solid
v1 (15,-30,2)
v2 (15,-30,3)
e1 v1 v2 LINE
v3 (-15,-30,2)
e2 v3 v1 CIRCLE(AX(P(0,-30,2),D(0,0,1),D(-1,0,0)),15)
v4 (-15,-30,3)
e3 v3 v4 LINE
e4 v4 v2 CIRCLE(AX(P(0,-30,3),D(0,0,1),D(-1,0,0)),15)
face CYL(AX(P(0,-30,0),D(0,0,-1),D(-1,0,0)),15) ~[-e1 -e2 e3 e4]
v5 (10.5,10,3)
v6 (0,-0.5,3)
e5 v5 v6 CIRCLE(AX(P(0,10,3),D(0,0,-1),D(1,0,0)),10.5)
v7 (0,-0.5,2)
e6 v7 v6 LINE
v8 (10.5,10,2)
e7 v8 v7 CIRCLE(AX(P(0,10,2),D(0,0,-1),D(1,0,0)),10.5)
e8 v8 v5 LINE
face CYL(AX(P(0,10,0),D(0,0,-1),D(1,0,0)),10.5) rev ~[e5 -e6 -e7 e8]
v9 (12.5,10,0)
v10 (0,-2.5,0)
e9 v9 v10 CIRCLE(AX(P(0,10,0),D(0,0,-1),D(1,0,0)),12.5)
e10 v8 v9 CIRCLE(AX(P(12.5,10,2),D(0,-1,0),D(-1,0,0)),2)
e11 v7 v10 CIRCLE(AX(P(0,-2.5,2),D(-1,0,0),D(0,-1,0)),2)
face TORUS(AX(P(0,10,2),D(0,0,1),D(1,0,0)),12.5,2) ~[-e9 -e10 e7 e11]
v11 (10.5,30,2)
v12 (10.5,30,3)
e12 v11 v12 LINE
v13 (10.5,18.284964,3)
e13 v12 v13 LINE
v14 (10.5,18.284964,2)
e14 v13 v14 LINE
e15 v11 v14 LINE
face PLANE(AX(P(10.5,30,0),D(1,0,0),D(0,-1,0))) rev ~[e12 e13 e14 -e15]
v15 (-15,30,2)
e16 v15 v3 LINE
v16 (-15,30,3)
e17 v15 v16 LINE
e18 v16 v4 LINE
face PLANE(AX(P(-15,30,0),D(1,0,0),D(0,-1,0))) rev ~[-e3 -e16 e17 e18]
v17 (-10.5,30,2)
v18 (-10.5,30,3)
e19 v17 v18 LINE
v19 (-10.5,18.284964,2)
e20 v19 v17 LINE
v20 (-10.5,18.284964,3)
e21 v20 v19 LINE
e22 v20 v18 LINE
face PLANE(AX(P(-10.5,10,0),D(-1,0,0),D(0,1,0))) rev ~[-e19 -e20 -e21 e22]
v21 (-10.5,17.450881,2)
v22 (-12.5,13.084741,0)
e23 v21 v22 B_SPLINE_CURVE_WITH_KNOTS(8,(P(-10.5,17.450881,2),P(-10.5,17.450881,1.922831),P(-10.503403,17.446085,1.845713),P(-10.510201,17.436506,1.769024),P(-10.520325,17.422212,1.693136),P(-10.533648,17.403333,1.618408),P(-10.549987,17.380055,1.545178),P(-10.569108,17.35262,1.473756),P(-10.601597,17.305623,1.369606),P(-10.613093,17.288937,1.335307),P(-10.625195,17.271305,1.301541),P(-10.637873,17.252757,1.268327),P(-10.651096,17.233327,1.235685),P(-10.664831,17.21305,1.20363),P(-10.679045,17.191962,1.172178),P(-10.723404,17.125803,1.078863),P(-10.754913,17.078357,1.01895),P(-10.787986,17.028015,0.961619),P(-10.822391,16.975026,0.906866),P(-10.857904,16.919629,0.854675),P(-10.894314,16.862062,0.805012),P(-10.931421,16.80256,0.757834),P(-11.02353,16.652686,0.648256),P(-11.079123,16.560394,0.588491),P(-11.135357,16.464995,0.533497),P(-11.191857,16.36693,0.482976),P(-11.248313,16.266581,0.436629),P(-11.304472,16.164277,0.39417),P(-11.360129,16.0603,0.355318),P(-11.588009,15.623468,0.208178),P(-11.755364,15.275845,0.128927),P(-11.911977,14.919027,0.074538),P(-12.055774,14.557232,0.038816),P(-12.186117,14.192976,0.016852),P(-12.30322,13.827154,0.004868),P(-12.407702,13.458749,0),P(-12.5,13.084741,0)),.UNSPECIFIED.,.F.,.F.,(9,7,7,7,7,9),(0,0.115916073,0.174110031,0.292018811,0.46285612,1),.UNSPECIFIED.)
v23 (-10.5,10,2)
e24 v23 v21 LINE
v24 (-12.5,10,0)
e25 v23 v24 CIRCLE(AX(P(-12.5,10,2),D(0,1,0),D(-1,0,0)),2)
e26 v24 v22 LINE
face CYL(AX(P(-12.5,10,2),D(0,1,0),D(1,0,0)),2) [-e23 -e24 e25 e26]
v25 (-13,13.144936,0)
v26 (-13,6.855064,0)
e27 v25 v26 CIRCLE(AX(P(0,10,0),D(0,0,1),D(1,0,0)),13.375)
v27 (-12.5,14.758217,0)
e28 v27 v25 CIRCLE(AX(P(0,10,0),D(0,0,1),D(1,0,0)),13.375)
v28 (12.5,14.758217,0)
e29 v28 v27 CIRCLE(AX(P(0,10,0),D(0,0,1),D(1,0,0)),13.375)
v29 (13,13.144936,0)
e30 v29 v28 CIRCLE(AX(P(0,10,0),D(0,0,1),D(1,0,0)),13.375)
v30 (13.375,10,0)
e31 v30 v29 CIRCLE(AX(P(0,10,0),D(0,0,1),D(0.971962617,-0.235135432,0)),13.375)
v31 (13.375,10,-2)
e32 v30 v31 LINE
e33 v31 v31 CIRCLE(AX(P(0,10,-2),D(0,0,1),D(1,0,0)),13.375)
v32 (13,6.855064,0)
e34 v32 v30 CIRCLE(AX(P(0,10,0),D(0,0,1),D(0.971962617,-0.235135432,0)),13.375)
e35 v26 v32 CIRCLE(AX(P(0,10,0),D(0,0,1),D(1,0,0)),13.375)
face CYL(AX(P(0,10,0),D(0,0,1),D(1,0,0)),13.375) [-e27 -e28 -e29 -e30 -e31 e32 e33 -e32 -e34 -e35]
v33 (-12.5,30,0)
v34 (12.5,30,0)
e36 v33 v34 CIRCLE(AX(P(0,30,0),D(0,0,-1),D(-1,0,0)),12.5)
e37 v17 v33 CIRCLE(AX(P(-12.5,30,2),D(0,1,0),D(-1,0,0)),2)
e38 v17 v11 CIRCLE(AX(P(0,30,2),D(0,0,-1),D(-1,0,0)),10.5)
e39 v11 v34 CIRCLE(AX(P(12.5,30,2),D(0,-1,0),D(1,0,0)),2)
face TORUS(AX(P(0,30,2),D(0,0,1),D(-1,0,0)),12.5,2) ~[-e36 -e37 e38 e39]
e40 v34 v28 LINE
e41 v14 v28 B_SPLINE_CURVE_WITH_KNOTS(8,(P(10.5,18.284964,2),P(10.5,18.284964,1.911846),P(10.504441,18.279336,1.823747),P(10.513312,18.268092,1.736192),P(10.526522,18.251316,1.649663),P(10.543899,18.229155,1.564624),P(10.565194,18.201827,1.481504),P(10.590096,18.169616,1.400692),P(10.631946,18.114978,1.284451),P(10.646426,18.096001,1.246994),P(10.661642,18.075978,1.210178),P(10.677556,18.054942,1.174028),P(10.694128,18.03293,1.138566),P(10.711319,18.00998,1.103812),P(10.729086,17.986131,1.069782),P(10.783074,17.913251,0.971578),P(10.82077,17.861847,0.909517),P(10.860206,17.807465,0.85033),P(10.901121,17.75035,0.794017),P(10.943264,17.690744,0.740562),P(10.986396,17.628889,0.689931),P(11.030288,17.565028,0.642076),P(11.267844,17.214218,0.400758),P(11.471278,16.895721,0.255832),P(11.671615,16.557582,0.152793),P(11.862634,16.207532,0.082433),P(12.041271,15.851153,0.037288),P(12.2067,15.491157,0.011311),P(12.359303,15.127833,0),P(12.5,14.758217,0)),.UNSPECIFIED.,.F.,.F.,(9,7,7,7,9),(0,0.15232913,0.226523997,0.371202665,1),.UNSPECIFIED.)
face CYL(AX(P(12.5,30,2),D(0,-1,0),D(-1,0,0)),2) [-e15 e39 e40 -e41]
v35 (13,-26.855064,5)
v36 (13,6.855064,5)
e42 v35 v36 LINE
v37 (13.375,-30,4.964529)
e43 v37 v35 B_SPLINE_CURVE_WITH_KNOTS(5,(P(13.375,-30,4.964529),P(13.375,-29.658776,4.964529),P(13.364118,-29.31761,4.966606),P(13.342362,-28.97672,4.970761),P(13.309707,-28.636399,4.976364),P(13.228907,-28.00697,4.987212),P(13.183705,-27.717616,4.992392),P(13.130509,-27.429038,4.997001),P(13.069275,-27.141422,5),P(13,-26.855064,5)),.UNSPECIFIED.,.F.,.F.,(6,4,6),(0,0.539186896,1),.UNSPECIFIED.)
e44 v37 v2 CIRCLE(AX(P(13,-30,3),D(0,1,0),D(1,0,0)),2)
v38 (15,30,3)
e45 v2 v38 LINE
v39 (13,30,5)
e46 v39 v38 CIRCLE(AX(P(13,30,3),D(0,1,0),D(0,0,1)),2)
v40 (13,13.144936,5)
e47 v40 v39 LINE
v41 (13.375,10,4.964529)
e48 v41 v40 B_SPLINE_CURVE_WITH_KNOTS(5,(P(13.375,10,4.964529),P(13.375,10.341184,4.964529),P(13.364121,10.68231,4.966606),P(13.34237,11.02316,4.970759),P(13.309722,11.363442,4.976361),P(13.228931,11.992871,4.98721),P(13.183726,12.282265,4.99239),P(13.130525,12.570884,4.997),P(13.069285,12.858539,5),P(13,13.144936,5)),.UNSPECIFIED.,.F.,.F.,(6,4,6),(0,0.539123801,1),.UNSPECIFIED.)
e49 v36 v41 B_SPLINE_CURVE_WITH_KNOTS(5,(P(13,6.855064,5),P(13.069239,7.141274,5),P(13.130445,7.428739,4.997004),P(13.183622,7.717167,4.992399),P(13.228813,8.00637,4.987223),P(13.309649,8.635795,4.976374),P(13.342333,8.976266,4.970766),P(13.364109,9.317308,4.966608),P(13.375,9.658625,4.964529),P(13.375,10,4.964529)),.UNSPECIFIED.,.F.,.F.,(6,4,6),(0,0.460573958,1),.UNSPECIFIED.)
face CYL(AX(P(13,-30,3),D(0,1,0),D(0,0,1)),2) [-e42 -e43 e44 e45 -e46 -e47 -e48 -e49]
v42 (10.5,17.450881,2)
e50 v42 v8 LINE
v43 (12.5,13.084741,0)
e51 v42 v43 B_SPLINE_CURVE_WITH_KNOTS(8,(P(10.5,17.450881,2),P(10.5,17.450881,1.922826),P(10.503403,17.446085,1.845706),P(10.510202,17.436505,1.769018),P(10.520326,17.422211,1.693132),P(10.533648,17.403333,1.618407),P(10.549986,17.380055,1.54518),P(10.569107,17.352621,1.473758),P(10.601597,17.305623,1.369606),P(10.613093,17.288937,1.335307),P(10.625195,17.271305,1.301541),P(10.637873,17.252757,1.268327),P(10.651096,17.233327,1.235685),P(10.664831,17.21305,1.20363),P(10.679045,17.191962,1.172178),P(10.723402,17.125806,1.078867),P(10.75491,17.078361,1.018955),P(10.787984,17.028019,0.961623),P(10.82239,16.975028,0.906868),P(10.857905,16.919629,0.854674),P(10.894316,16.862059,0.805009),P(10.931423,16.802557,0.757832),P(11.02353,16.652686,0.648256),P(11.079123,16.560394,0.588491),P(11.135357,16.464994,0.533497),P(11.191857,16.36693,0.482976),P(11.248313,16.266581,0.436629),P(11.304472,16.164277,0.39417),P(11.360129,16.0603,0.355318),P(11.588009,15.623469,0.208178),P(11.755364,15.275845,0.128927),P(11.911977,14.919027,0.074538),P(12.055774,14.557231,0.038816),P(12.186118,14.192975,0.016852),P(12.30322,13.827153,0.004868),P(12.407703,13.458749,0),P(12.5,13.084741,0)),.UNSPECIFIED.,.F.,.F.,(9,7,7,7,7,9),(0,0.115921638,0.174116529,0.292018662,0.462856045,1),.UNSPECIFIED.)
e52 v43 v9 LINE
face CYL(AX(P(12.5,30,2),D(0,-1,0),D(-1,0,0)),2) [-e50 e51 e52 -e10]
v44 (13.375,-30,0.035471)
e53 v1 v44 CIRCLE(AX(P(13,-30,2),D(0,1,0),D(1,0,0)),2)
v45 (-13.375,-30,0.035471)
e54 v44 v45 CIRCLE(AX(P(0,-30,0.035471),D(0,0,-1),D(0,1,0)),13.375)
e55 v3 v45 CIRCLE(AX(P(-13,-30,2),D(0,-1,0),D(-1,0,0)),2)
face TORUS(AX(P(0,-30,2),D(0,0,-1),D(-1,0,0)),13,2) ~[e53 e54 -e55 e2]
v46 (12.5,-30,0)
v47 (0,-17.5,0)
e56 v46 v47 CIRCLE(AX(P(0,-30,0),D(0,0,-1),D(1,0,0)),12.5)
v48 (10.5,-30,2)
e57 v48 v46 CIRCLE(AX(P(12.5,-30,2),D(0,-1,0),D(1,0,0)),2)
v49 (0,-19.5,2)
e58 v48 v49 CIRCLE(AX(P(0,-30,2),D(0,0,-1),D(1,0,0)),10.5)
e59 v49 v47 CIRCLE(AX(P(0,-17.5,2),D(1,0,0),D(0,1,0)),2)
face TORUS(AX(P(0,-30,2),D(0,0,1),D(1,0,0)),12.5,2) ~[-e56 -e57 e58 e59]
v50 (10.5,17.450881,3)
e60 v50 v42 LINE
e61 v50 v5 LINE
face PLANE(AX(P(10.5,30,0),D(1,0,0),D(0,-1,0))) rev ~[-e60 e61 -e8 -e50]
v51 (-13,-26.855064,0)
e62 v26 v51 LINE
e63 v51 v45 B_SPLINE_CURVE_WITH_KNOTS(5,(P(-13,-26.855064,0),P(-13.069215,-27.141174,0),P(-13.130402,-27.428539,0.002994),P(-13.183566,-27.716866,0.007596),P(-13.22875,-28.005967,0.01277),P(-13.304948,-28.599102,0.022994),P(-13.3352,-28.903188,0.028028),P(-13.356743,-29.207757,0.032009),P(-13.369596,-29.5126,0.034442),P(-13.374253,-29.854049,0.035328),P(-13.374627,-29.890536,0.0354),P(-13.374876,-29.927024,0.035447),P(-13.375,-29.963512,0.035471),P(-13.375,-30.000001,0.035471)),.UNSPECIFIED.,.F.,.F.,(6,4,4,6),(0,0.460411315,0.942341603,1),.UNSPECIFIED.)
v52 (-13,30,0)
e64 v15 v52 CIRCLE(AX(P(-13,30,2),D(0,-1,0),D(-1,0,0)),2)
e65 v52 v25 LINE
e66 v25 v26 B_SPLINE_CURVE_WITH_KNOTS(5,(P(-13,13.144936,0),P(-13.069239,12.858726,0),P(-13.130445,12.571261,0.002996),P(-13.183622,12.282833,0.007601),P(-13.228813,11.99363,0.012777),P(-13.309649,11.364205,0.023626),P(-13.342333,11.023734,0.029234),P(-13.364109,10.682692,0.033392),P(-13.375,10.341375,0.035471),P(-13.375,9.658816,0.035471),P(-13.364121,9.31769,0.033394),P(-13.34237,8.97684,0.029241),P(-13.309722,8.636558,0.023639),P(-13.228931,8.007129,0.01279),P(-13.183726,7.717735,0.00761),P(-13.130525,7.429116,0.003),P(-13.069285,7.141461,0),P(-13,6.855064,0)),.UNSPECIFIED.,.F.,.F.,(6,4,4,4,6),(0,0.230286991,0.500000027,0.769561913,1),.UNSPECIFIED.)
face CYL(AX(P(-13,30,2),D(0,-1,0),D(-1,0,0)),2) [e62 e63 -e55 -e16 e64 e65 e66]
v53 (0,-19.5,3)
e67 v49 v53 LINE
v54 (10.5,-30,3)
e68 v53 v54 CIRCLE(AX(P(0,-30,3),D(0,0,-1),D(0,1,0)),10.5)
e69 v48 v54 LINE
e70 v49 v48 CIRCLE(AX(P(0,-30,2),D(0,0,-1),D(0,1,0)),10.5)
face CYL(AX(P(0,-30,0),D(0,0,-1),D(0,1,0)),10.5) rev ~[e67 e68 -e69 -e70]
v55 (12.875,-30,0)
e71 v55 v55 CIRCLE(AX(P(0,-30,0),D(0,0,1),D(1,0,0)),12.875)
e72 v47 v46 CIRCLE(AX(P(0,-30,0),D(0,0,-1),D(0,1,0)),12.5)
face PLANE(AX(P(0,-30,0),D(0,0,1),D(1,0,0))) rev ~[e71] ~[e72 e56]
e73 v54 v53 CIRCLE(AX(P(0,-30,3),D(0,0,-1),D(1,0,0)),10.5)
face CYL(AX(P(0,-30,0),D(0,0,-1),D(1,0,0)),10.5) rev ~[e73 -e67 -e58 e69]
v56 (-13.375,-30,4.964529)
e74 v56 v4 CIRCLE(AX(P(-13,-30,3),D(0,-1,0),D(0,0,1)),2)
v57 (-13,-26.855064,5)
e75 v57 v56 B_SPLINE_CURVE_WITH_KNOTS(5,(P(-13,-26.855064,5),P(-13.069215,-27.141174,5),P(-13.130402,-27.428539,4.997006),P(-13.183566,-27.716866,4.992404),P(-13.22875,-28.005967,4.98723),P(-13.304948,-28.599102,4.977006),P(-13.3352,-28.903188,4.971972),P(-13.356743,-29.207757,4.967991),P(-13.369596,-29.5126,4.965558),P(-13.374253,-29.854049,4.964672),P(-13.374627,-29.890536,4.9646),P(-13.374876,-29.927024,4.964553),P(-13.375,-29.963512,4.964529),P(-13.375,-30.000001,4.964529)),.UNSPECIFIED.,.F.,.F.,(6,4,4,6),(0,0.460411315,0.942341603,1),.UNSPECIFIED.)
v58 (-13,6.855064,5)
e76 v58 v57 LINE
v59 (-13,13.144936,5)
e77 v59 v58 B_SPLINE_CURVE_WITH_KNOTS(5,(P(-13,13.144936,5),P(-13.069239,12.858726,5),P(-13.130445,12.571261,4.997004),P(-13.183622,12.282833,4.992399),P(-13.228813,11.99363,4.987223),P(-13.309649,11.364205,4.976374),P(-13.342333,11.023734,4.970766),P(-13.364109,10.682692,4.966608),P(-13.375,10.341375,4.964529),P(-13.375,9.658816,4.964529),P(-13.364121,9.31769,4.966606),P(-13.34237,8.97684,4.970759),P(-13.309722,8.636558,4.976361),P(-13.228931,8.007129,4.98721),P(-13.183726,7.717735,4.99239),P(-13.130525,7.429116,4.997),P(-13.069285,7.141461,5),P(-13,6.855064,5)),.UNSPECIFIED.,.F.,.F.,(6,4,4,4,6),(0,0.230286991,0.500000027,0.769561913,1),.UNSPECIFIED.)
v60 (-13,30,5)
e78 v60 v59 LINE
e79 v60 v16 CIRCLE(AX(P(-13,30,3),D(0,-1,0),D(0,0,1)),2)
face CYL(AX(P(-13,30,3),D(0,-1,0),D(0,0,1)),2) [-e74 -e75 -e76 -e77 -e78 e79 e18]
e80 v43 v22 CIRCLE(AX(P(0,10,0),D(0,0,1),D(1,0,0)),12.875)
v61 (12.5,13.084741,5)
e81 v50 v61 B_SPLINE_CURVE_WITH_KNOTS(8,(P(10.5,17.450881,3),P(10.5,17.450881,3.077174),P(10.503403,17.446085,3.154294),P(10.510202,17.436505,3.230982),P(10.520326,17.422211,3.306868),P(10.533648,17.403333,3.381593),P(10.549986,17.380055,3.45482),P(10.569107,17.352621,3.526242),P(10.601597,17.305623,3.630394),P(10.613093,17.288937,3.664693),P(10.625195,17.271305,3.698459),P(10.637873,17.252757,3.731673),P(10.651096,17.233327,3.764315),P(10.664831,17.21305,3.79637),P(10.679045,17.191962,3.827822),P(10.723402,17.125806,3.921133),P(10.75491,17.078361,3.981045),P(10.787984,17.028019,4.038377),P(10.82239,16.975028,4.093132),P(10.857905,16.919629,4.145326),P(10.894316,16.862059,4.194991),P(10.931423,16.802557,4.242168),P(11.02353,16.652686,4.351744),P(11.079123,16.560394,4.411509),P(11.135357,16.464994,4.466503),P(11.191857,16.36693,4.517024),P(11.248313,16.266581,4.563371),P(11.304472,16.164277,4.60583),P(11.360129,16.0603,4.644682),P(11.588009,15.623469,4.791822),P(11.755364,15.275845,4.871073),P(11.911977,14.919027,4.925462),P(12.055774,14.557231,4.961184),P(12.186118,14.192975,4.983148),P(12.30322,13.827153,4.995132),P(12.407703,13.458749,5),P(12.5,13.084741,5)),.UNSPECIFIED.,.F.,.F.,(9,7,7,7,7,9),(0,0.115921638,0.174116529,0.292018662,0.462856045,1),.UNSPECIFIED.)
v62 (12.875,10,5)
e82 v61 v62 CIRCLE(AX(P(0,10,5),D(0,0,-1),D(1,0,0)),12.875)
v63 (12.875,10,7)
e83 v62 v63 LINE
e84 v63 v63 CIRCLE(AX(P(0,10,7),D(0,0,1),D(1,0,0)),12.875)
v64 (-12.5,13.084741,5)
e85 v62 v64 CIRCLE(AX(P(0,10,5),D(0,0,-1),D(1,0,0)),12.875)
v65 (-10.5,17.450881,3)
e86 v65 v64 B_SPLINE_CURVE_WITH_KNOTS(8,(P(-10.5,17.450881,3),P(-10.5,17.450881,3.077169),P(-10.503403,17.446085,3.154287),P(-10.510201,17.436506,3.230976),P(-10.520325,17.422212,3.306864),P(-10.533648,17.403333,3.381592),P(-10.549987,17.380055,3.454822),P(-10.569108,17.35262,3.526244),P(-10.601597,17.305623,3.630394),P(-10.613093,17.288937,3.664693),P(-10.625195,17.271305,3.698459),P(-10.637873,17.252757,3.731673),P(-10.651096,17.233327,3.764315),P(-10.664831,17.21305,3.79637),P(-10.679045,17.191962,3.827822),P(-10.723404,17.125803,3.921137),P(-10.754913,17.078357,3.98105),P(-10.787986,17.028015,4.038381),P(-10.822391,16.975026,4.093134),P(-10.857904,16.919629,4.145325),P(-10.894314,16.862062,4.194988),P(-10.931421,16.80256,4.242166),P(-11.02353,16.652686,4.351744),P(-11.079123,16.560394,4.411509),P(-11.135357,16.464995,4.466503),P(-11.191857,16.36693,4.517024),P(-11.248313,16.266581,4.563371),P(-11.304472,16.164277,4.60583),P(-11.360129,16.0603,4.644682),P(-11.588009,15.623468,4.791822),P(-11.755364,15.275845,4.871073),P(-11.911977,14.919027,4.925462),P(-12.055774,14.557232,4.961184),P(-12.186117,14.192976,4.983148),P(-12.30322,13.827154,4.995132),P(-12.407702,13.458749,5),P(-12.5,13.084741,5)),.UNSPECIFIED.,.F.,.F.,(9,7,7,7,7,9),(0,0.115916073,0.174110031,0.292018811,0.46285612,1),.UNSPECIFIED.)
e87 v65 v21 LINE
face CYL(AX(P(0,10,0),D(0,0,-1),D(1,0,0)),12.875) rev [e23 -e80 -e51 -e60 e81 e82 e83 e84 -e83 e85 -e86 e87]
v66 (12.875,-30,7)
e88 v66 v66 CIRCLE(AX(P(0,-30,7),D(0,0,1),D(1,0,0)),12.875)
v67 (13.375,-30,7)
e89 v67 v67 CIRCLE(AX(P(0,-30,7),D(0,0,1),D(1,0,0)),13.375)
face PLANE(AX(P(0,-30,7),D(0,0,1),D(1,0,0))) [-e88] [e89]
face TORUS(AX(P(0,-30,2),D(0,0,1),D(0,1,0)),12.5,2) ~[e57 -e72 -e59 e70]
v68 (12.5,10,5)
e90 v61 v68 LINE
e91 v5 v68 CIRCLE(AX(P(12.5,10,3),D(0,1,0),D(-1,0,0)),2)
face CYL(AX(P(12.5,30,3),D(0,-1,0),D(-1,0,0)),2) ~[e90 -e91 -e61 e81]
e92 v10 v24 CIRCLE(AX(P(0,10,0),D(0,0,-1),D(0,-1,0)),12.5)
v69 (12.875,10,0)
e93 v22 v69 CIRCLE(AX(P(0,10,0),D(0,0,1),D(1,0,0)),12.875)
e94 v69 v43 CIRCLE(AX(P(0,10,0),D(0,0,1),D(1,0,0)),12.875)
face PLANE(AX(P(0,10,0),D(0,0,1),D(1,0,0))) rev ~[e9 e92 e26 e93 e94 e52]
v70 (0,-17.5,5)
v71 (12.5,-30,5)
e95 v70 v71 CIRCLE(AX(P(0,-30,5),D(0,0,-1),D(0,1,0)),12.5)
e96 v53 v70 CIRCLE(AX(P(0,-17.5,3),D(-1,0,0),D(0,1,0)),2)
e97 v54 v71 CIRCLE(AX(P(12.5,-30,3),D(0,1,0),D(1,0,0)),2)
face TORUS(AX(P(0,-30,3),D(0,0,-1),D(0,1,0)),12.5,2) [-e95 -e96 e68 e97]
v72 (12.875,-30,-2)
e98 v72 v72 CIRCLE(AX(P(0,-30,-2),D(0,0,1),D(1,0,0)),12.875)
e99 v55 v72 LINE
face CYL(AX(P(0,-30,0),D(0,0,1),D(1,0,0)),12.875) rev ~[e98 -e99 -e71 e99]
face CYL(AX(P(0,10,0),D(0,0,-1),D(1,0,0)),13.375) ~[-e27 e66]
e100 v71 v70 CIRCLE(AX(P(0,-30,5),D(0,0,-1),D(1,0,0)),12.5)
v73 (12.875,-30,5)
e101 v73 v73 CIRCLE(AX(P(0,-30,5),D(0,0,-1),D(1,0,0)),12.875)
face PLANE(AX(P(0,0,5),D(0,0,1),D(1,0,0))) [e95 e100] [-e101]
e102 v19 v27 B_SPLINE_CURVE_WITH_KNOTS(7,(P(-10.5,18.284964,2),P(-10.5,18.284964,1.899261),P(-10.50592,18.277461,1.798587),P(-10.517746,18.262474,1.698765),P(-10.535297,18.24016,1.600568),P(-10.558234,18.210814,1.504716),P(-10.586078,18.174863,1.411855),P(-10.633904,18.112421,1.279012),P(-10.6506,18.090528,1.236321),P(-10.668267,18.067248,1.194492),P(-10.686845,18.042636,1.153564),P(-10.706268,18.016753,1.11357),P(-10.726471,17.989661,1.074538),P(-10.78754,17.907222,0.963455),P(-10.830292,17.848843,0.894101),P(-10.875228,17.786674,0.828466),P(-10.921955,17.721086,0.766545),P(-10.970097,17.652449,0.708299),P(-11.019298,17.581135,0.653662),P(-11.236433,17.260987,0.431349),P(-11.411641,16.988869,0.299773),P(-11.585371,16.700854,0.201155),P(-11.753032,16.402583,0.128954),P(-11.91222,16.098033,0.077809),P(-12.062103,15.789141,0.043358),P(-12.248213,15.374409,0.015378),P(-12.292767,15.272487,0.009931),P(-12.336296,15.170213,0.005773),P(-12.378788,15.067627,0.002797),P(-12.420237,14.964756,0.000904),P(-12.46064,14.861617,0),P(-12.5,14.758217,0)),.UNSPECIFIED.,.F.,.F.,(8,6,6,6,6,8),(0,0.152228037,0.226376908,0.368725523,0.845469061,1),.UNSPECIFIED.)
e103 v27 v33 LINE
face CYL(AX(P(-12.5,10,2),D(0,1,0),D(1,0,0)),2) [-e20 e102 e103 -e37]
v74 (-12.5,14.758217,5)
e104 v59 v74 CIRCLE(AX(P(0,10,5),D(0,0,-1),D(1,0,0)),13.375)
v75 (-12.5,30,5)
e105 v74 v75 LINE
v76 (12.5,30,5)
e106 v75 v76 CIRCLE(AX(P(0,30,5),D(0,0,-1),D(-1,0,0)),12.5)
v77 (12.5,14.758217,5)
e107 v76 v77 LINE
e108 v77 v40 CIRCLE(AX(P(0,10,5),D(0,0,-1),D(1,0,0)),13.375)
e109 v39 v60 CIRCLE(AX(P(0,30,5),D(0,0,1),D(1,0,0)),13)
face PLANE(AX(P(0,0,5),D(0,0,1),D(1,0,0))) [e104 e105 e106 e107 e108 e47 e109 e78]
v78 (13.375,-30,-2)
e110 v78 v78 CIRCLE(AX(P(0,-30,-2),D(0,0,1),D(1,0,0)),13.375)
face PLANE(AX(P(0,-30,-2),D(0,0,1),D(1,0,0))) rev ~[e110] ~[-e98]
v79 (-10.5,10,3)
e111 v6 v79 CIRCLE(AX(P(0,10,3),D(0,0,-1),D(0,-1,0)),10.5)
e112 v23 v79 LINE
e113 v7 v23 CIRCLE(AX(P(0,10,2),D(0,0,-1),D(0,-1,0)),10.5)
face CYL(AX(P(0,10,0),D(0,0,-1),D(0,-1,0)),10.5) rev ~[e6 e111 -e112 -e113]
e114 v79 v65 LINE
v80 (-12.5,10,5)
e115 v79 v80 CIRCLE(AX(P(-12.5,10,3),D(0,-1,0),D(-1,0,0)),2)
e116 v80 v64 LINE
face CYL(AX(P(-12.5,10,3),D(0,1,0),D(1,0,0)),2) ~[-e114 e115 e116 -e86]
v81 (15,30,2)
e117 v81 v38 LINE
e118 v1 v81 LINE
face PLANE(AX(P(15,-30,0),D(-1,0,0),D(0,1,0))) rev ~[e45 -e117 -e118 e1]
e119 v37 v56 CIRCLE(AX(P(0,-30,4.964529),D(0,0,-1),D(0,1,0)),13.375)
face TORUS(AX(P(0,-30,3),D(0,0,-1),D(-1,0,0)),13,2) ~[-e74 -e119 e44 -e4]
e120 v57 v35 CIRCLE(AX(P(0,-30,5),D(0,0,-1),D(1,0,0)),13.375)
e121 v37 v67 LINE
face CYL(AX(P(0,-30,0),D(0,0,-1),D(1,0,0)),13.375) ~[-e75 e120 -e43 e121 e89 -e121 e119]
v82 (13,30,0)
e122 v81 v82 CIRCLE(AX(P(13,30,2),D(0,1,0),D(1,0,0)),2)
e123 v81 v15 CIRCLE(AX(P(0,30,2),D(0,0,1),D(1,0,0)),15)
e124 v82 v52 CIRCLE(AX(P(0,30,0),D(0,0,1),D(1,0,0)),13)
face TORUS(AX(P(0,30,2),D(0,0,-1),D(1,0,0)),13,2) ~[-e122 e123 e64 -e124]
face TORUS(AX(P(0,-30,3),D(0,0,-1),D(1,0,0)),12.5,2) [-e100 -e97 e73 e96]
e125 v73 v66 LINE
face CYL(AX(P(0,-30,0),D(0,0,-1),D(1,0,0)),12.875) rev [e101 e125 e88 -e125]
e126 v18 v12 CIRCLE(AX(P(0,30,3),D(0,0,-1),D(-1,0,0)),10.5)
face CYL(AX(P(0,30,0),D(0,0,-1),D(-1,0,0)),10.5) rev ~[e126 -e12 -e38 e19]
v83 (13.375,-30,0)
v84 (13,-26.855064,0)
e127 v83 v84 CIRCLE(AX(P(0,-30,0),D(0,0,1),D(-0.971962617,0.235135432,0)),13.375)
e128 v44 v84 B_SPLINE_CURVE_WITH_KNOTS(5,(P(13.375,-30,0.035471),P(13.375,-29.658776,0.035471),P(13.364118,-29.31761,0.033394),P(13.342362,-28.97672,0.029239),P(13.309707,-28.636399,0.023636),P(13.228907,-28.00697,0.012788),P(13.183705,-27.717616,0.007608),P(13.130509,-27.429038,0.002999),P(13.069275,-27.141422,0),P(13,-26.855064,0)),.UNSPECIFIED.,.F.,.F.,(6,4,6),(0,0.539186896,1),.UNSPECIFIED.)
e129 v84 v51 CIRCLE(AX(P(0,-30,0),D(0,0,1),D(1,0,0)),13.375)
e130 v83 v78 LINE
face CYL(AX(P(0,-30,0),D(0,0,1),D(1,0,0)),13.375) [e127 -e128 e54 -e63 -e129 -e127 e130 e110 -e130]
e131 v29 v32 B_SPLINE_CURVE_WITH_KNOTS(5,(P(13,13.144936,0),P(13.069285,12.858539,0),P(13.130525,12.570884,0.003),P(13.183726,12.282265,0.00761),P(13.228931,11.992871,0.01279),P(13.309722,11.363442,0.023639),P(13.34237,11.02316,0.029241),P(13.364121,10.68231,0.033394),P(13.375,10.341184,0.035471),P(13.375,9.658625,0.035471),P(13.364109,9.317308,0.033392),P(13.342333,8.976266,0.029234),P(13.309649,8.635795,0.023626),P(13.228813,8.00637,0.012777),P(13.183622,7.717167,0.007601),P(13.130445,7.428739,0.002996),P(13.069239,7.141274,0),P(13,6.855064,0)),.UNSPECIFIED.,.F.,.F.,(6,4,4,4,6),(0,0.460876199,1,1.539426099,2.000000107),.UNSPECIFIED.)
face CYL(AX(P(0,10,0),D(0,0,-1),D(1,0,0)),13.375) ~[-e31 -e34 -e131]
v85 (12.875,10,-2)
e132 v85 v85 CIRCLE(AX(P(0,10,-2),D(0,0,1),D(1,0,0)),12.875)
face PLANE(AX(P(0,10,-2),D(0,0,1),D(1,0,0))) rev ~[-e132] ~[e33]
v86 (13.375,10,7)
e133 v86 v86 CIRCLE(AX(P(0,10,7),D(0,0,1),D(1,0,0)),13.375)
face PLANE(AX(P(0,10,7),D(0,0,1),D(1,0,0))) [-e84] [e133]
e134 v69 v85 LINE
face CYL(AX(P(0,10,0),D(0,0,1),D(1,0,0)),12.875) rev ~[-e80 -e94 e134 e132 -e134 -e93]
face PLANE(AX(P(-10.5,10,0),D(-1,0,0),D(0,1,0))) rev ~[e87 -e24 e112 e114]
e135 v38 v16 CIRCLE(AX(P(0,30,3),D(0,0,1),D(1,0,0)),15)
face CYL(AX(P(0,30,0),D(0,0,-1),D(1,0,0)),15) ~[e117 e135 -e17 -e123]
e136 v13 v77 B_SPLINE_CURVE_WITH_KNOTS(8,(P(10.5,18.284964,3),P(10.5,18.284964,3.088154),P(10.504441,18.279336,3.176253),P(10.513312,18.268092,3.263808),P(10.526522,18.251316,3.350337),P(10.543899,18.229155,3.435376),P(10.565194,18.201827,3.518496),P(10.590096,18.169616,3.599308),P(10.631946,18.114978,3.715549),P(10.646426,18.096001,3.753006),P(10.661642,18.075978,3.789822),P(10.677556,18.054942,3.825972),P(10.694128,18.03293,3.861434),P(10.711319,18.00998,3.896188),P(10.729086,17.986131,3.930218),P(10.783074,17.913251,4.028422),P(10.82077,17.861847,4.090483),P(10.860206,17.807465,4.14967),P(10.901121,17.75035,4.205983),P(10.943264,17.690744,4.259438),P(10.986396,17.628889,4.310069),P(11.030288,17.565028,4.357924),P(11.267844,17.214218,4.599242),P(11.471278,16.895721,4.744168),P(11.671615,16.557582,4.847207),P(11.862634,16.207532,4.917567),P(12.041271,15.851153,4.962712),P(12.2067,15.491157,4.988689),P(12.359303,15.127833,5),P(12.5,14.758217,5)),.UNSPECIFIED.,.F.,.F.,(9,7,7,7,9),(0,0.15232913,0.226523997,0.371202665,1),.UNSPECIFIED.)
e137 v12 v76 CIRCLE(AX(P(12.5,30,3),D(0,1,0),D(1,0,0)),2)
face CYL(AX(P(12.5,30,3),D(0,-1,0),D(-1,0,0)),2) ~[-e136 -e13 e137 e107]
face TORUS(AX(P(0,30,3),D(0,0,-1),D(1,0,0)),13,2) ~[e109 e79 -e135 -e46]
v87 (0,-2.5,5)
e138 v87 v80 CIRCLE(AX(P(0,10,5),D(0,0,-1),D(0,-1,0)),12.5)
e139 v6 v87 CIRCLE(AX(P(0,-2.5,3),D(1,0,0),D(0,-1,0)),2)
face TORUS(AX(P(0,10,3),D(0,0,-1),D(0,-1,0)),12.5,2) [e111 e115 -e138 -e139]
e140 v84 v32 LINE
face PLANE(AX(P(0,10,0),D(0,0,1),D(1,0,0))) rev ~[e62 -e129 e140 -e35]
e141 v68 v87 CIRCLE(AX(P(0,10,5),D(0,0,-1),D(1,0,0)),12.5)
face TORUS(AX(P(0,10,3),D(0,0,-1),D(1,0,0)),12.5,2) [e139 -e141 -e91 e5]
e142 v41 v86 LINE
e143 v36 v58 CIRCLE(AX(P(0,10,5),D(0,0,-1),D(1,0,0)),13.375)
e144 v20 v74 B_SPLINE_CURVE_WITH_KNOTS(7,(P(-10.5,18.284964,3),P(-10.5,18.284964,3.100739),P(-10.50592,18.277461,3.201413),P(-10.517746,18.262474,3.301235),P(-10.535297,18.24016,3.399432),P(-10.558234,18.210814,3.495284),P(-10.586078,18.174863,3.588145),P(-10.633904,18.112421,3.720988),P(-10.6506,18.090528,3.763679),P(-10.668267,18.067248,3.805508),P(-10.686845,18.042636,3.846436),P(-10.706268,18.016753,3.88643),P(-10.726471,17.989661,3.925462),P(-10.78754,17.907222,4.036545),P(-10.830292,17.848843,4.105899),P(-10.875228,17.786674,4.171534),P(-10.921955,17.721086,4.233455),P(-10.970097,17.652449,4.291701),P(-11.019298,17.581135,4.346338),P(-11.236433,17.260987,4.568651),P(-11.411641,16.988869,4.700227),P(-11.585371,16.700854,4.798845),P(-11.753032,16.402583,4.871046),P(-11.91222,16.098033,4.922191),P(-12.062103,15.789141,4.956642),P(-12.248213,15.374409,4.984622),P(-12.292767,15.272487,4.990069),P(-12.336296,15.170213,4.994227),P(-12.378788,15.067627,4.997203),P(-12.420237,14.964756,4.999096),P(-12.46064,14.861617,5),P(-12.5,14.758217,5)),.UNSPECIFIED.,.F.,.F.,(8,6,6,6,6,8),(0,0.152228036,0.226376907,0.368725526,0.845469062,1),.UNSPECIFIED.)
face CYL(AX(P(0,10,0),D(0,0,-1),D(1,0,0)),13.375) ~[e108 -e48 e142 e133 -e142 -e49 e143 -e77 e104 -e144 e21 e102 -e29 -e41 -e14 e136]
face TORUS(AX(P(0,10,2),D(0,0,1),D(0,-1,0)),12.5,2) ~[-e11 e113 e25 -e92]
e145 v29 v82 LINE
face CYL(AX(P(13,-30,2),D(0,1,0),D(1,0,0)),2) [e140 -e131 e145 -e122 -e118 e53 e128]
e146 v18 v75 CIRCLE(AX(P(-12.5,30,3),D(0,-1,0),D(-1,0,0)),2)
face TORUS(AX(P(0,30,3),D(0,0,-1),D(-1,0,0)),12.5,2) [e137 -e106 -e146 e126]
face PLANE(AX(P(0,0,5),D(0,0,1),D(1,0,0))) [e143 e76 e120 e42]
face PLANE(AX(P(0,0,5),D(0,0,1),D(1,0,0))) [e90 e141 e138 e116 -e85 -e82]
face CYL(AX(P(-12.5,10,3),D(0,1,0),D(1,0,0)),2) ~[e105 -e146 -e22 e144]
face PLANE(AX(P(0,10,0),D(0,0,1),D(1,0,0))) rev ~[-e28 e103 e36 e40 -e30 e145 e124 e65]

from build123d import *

# Parameters (mm, degrees)
F1_DEPTH      = 5
F2_R          = 2
F3_R          = 2
F4_R          = 13.375
F4_R_2        = 12.875
F5_DEPTH      = 7
F5_DEPTH_BACK = 2
F6_R          = 13.375
F6_R_2        = 12.875
F7_DEPTH      = 7
F7_DEPTH_BACK = 2


with BuildPart() as f1:
    # F0 (on Top) → F1 (new body)
    with BuildSketch(Plane.XY):
        with BuildLine():
            ThreePointArc((15, 30), (0, 45), (-15, 30))
            Line((-15, 30), (-15, -30))
            ThreePointArc((-15, -30), (0, -45), (15, -30))
            Line((15, -30), (15, 30))
        make_face()
        with BuildLine():
            ThreePointArc((10.5, -30), (-7.4246212025, -37.4246212025), (0, -19.5))
            ThreePointArc((0, -19.5), (7.4246212025, -22.5753787975), (10.5, -30))
        make_face(mode=Mode.SUBTRACT)
        with BuildLine():
            ThreePointArc((10.5, 10), (7.4246212025, 2.5753787975), (0, -0.5))
            ThreePointArc((0, -0.5), (-7.4246212025, 2.5753787975), (-10.5, 10))
            Line((-10.5, 10), (-10.5, 30))
            ThreePointArc((-10.5, 30), (0, 40.5), (10.5, 30))
            Line((10.5, 30), (10.5, 10))
        make_face(mode=Mode.SUBTRACT)
    extrude(amount=F1_DEPTH)

    # F2
    f2_edges = [f1.edges().sort_by_distance(p)[0] for p in [
        (0, 40.5, 5),
        (0, 40.5, 0),
        (15, 0, 0),
        (0, -40.5, 5),
        (0, -40.5, 0),
    ]]
    fillet(f2_edges, radius=F2_R)

    # F3
    f3_edges = [f1.edges().sort_by_distance(p)[0] for p in [
        (-15, 0, 5),
    ]]
    fillet(f3_edges, radius=F3_R)

    # F4 (on Top) → F5 (join, two sides)
    with BuildSketch(Plane.XY) as f5_sk:
        with Locations((0, -30)):
            Circle(F4_R)
        with Locations((0, -30)):
            Circle(F4_R_2, mode=Mode.SUBTRACT)
    extrude(amount=F5_DEPTH)
    extrude(f5_sk.sketch, amount=-F5_DEPTH_BACK)

    # F6 (on Top) → F7 (join, two sides)
    with BuildSketch(Plane.XY) as f7_sk:
        with Locations((0, 10)):
            Circle(F6_R)
        with Locations((0, 10)):
            Circle(F6_R_2, mode=Mode.SUBTRACT)
    extrude(amount=F7_DEPTH)
    extrude(f7_sk.sketch, amount=-F7_DEPTH_BACK)


solid = f1.part
